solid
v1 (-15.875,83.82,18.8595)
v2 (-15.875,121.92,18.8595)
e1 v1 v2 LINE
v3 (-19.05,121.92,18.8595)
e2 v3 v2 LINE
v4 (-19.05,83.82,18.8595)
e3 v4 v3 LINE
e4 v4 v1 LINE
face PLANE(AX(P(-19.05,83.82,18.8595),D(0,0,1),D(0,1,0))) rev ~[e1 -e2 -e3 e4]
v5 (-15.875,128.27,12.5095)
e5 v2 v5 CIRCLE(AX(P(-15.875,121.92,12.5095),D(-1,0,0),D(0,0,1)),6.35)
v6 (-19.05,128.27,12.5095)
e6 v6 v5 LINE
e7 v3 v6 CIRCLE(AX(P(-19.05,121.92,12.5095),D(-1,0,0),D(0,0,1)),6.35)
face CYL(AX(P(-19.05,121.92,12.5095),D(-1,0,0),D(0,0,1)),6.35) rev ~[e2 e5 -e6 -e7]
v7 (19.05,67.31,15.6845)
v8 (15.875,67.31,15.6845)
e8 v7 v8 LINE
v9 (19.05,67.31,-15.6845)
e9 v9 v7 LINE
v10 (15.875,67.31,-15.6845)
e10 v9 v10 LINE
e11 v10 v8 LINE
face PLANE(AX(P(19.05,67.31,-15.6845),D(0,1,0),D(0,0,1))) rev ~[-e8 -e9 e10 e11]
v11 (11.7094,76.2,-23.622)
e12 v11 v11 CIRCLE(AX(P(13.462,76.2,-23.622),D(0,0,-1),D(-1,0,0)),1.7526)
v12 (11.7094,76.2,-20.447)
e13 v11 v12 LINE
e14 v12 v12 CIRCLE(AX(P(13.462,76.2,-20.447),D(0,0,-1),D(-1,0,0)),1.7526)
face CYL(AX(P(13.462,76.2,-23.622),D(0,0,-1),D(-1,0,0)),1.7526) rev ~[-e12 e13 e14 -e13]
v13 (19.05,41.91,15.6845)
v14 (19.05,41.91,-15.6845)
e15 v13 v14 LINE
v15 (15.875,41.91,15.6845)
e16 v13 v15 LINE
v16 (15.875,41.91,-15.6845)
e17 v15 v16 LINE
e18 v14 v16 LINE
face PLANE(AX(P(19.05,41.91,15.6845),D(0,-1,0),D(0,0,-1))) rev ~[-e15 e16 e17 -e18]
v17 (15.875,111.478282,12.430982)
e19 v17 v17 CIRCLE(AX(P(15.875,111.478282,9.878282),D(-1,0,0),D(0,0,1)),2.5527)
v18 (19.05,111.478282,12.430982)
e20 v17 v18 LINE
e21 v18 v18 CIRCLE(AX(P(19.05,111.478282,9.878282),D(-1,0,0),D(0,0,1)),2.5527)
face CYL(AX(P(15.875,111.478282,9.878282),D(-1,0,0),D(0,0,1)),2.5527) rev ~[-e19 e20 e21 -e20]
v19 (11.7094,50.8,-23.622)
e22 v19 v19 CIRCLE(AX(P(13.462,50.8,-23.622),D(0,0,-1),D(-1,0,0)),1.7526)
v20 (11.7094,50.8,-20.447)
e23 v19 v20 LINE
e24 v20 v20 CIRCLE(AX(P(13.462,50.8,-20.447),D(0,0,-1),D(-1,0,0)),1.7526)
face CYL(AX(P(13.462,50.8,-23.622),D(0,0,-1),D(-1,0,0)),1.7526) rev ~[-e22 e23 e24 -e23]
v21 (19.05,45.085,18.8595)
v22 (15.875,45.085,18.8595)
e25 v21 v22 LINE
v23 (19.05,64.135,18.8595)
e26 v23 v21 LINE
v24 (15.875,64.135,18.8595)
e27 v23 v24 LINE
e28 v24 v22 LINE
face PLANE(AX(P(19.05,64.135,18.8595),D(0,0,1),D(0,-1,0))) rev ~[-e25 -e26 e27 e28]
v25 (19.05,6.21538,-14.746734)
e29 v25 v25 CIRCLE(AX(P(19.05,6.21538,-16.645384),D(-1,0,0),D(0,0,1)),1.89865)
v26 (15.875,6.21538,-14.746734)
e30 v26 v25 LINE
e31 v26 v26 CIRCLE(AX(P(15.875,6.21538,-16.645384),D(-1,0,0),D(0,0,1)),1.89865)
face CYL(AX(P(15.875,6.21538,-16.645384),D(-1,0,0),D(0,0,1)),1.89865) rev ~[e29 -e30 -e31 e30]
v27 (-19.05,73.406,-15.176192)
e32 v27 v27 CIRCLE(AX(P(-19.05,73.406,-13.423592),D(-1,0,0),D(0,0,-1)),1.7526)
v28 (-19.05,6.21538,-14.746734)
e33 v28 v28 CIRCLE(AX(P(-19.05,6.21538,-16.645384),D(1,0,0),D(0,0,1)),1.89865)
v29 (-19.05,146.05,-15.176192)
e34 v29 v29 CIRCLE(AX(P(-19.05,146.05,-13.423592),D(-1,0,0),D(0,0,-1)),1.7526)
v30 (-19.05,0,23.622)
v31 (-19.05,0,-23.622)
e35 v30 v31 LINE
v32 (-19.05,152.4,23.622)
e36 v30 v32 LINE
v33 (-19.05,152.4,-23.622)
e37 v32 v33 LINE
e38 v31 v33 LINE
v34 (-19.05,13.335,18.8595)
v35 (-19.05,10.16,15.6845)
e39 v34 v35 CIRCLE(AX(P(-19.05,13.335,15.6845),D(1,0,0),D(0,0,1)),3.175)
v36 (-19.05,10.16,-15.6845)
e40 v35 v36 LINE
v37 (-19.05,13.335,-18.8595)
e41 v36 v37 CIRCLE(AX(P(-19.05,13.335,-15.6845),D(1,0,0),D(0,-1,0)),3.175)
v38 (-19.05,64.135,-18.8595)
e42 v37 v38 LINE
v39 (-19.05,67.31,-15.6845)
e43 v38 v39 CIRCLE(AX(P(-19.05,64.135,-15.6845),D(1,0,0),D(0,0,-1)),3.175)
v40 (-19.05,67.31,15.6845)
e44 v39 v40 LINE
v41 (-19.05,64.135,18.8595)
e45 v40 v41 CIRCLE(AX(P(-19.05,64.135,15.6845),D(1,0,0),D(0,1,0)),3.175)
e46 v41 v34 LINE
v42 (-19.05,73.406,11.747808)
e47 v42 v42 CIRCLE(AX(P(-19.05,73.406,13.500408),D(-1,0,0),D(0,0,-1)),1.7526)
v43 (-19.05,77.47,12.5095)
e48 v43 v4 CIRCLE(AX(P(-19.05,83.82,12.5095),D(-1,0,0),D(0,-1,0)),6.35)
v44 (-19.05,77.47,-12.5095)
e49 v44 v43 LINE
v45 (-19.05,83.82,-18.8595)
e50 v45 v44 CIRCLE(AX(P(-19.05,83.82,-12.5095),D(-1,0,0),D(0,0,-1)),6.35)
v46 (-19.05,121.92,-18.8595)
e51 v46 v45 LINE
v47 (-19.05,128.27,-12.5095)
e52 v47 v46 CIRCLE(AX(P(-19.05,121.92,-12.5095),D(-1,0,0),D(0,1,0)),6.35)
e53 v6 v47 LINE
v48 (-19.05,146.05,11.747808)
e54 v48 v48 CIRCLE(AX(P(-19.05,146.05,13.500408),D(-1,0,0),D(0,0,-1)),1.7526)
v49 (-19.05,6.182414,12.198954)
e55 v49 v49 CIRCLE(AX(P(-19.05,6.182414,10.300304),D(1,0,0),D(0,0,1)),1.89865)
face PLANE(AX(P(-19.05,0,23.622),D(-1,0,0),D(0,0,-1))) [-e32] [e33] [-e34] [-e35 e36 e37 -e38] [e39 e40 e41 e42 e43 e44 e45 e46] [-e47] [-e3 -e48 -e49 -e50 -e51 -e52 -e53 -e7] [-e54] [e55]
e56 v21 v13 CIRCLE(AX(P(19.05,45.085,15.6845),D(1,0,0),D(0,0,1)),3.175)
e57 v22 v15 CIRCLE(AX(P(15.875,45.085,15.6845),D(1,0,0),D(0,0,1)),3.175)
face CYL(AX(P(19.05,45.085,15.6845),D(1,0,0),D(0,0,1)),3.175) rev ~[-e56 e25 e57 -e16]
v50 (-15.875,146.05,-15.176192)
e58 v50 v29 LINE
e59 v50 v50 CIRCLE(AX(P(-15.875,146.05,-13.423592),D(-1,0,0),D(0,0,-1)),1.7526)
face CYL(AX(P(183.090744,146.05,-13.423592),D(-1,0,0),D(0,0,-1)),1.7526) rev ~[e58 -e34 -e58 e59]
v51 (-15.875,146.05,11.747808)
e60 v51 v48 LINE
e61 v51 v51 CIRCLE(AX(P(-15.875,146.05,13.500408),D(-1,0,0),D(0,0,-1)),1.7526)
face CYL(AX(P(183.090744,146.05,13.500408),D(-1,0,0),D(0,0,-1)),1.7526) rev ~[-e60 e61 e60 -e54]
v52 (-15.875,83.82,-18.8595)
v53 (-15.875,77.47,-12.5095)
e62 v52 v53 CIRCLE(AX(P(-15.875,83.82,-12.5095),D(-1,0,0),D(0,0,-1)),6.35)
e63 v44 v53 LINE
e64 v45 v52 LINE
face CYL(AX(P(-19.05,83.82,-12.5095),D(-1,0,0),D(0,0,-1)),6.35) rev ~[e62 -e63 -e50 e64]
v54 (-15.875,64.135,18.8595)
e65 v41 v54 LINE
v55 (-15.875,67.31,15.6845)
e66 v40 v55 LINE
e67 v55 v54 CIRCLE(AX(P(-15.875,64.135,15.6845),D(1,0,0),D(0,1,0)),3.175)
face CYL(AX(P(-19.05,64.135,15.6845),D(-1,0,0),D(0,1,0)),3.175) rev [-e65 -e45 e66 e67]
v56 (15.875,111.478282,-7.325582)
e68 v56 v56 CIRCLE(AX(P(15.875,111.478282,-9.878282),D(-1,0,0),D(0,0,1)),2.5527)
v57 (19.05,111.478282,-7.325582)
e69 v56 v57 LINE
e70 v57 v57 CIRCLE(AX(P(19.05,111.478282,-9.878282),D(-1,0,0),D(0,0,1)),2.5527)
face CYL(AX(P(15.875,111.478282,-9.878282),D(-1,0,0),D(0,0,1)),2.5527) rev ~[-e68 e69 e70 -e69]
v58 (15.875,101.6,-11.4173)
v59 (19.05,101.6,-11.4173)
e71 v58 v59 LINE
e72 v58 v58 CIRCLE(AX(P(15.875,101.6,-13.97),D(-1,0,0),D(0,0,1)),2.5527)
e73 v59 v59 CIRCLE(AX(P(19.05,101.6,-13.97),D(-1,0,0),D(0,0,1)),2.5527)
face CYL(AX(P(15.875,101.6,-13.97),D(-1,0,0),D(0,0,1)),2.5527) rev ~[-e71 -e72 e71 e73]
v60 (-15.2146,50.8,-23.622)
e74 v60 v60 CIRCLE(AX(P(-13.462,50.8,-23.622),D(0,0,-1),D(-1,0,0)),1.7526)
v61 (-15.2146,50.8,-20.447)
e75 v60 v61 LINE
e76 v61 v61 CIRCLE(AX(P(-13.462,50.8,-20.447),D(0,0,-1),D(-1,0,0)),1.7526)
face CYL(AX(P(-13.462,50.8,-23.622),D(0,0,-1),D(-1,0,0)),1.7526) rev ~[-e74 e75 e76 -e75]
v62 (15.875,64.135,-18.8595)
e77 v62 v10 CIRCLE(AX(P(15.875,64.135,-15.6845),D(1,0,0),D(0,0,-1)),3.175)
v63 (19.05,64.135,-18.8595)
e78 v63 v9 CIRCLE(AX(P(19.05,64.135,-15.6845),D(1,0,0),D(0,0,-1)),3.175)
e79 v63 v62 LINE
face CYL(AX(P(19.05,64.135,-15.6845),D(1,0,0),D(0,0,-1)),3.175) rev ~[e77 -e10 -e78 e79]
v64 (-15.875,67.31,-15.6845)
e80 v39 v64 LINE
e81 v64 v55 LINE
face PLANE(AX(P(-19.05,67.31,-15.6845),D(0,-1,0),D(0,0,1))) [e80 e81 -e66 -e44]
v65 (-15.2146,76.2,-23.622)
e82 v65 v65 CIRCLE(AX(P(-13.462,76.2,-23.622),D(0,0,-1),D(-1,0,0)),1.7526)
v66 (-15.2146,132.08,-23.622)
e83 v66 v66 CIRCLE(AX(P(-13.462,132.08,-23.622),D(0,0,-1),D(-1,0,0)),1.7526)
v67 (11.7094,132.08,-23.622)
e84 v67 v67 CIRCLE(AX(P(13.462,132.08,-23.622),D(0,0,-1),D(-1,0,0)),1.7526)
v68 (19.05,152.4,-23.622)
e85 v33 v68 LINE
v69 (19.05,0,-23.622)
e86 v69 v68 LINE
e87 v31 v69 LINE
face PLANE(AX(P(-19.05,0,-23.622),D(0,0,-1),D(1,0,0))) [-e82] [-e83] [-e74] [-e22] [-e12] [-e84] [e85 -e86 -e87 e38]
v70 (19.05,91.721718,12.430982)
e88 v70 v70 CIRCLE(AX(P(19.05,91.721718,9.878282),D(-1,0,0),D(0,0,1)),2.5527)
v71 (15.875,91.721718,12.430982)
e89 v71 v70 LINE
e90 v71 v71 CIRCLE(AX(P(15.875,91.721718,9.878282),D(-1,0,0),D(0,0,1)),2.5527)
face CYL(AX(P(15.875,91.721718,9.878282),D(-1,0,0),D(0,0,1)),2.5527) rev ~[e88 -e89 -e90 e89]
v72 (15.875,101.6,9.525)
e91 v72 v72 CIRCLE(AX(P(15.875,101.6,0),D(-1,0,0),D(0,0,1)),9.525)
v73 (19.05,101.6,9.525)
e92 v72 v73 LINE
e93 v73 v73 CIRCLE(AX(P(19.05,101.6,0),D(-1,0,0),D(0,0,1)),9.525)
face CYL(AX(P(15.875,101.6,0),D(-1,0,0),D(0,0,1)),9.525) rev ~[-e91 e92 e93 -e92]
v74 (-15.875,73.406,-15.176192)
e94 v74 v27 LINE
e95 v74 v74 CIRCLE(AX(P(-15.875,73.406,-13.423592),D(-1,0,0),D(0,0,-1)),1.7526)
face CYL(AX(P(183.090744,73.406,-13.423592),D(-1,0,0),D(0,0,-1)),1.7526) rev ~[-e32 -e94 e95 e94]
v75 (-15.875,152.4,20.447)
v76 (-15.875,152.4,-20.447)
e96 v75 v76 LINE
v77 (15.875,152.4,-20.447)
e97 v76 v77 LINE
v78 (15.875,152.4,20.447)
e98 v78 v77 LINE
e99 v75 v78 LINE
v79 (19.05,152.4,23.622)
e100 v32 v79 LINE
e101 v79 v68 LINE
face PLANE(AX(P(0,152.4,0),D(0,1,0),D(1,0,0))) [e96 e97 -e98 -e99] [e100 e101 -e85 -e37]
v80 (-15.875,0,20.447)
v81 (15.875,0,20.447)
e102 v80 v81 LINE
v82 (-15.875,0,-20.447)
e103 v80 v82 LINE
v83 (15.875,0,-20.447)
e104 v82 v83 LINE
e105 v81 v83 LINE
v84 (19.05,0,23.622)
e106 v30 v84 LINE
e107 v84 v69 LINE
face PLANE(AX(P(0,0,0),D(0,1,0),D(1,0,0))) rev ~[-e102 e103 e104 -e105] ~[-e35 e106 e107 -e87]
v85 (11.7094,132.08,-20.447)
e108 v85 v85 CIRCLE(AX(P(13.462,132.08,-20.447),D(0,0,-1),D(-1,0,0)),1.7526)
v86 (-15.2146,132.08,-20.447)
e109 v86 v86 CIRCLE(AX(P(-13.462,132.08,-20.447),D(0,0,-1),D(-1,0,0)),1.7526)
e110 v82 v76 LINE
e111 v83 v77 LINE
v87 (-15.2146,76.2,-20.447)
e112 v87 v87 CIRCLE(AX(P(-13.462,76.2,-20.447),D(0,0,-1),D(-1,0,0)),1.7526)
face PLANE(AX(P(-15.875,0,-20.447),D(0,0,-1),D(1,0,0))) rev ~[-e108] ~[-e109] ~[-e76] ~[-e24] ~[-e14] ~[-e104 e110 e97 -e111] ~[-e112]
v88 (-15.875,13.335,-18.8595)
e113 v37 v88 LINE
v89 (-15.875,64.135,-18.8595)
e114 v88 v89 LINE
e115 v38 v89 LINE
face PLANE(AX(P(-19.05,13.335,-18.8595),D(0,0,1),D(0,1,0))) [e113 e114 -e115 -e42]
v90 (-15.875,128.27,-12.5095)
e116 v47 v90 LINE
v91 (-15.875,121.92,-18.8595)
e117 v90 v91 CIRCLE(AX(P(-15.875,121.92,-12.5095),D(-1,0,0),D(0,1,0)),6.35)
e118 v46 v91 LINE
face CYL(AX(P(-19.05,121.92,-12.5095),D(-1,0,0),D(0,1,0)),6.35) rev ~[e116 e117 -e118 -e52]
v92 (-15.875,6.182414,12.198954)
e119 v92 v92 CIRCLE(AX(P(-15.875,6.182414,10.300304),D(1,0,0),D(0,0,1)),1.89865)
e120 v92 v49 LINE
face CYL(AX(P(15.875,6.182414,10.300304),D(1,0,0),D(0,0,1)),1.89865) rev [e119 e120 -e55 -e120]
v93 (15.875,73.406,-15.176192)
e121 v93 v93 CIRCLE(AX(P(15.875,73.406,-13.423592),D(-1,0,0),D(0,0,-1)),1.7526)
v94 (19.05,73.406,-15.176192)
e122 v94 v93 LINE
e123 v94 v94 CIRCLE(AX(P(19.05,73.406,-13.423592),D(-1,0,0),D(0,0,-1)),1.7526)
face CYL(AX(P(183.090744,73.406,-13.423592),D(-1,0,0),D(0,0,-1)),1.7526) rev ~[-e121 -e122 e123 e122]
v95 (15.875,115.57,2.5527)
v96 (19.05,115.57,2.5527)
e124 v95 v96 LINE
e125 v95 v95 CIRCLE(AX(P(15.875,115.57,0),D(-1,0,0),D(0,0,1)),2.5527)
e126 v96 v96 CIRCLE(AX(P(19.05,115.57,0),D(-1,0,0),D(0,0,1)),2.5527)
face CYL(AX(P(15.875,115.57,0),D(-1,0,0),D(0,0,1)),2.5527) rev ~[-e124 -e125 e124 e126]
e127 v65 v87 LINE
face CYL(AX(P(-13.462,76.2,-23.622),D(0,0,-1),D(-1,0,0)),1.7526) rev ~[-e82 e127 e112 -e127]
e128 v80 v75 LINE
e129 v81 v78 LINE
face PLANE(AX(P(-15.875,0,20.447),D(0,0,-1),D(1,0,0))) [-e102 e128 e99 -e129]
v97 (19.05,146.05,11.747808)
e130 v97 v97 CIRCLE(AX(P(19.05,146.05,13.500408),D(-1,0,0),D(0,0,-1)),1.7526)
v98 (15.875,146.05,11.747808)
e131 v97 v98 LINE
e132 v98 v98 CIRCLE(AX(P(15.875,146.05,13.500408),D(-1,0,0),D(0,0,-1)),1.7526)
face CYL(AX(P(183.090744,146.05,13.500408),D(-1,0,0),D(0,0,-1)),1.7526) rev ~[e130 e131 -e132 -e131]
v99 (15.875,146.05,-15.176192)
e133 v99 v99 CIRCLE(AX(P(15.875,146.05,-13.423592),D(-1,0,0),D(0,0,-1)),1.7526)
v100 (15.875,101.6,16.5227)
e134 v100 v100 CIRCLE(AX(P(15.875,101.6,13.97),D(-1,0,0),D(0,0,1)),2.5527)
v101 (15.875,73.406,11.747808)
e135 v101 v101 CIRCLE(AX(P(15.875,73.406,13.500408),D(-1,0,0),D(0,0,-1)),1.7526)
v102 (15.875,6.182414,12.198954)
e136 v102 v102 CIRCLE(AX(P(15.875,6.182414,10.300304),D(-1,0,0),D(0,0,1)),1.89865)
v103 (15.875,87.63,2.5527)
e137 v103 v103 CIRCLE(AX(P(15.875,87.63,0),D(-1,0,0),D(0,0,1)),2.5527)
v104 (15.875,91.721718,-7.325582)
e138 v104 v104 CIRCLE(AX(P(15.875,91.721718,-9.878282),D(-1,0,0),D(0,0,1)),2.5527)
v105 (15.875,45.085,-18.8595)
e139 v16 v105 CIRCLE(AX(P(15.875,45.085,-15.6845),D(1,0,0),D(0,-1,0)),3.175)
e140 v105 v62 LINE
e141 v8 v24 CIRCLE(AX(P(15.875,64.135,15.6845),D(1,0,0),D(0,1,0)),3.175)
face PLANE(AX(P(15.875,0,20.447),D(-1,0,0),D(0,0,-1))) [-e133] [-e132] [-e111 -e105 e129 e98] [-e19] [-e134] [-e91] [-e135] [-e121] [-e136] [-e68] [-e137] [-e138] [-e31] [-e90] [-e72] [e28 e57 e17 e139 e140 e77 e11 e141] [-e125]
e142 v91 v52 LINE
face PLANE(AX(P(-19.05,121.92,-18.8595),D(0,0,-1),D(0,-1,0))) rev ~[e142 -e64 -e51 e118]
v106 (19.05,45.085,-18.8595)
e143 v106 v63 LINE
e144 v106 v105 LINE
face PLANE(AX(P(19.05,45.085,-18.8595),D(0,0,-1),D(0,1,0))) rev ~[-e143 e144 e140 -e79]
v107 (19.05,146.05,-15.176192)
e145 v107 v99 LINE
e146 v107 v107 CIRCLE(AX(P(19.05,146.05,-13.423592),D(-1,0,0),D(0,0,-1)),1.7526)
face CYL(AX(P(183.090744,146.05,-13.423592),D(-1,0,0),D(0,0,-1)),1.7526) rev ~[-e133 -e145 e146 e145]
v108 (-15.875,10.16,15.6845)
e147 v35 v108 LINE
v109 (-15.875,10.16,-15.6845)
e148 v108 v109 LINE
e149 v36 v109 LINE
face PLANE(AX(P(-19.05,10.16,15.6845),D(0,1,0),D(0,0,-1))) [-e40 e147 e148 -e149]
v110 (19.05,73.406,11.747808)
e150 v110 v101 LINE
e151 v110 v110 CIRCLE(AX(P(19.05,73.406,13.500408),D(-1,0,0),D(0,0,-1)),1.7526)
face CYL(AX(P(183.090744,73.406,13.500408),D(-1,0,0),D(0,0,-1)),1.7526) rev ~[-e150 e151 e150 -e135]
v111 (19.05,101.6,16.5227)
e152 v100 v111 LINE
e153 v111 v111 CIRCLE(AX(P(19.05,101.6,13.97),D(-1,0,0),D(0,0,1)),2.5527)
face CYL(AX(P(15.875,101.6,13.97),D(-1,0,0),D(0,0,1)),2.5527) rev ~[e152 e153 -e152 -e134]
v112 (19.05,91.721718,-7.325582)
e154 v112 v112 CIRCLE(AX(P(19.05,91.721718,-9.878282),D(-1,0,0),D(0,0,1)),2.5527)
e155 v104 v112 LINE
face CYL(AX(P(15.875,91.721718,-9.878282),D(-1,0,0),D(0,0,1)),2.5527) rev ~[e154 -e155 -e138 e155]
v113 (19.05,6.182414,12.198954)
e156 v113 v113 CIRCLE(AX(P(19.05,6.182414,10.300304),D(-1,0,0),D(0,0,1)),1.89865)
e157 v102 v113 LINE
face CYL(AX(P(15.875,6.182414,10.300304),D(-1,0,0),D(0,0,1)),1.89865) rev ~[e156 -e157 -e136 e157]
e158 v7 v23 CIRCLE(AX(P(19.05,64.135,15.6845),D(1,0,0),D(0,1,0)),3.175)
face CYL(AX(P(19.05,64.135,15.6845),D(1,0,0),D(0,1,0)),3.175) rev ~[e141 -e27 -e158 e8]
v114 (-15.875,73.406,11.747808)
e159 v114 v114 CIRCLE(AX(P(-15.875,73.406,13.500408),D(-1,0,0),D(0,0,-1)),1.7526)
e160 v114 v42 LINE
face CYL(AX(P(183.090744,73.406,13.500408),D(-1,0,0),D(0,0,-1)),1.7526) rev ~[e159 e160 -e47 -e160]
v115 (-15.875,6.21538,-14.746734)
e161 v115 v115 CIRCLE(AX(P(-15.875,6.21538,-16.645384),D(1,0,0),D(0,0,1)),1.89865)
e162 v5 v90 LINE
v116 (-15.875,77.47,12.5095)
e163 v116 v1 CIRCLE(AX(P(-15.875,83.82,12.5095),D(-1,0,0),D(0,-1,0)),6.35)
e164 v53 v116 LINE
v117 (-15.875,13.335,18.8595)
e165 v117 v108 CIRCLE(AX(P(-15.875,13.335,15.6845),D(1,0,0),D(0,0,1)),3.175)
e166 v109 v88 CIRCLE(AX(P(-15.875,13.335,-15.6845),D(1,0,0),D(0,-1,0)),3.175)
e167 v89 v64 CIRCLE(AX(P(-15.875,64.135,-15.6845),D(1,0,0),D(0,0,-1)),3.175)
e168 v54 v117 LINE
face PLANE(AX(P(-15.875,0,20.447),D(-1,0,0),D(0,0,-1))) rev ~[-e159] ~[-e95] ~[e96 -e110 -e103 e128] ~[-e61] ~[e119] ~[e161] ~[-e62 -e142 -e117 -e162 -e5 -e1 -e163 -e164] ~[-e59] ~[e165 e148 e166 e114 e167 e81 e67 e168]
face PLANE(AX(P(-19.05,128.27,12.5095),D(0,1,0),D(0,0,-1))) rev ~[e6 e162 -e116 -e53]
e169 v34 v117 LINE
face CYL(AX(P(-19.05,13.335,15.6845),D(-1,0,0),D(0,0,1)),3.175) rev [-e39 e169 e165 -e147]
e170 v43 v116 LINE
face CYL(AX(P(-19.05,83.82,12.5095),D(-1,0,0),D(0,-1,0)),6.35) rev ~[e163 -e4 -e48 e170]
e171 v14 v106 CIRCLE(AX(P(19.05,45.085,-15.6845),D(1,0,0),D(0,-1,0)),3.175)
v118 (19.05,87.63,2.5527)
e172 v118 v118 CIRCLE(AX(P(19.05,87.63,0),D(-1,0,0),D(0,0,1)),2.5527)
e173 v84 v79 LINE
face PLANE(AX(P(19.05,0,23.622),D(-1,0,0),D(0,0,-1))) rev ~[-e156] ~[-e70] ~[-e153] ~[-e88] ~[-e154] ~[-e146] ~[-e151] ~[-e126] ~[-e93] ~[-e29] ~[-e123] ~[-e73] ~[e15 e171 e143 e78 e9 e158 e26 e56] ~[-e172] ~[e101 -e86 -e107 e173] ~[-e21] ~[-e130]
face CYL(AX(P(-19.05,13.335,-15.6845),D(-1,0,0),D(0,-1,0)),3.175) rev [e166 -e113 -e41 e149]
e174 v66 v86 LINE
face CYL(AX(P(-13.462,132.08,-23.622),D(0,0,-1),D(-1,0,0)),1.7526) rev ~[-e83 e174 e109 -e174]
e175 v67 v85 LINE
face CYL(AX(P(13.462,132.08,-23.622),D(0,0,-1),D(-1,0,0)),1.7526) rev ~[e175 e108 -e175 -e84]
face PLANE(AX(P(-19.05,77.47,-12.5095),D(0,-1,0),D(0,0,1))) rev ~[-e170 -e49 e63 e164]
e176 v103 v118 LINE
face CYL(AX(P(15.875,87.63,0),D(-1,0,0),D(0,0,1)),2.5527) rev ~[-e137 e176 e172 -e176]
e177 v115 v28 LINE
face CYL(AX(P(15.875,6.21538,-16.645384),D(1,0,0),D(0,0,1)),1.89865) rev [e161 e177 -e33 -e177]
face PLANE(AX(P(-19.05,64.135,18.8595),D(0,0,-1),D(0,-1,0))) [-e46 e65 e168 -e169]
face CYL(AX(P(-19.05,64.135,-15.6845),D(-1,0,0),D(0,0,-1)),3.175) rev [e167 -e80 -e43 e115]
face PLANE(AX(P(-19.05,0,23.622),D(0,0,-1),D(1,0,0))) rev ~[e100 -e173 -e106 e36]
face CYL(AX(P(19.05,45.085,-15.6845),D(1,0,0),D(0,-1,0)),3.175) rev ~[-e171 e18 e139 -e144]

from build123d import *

# Parameters (mm, degrees)
SKETCH1_W               = 38.1
SKETCH1_H               = 47.244
SKETCH1_W_2             = 31.75
SKETCH1_H_2             = 40.894
BOSS_EXTRUDE1_DEPTH     = 152.4
SKETCH2_R               = 1.89865
CUT_EXTRUDE1_DEPTH      = 35.925
CUT_EXTRUDE1_DEPTH_BACK = 4.175
CUT_EXTRUDE3_DEPTH      = 3.175
CUT_EXTRUDE4_DEPTH      = 3.175
SKETCH6_R               = 9.525
SKETCH6_R_2             = 2.5527
CUT_EXTRUDE5_DEPTH      = 3.175
CUT_EXTRUDE6_DEPTH      = 3.175
F_6_32_TAPPED_HOLE1_D   = 3.5052
CUT_EXTRUDE10_REACH     = 49.244
SKETCH15_R              = 1.7526


with BuildPart() as part:
    # Sketch1 → Boss-Extrude1 (new body)
    with BuildSketch(Plane(origin=(0, 0, 0), x_dir=(1, 0, 0), z_dir=(0, 1, 0))):
        Rectangle(SKETCH1_W, SKETCH1_H)
        Rectangle(SKETCH1_W_2, SKETCH1_H_2, mode=Mode.SUBTRACT)
    extrude(amount=BOSS_EXTRUDE1_DEPTH)

    # Sketch2 → Cut-Extrude1 (cut, two sides)
    with BuildSketch(Plane.ZY.offset(-15.875)) as cut_extrude1_sk:
        with Locations((-16.645384182, 6.21538)):
            Circle(SKETCH2_R)
        with Locations((10.30030417, 6.18241423)):
            Circle(SKETCH2_R)
    extrude(amount=CUT_EXTRUDE1_DEPTH, mode=Mode.SUBTRACT)
    extrude(cut_extrude1_sk.sketch, amount=-CUT_EXTRUDE1_DEPTH_BACK, mode=Mode.SUBTRACT)

    # Sketch4 → Cut-Extrude3 (cut)
    with BuildSketch(Plane.ZY.offset(19.05)):
        with BuildLine():
            Line((15.6845, 10.16), (-15.6845, 10.16))
            ThreePointArc((-15.6845, 10.16), (-17.92956403, 11.08993597), (-18.8595, 13.335))
            Line((-18.8595, 13.335), (-18.8595, 64.135))
            ThreePointArc((-18.8595, 64.135), (-17.92956403, 66.38006403), (-15.6845, 67.31))
            Line((-15.6845, 67.31), (15.6845, 67.31))
            ThreePointArc((15.6845, 67.31), (17.92956403, 66.38006403), (18.8595, 64.135))
            Line((18.8595, 64.135), (18.8595, 13.335))
            ThreePointArc((18.8595, 13.335), (17.92956403, 11.08993597), (15.6845, 10.16))
        make_face()
    extrude(amount=-CUT_EXTRUDE3_DEPTH, mode=Mode.SUBTRACT)

    # Sketch5 → Cut-Extrude4 (cut)
    with BuildSketch(Plane(origin=(19.05, 0, 0), x_dir=(0, 0, -1), z_dir=(1, 0, 0))):
        with BuildLine():
            Line((15.6845, 67.31), (-15.6845, 67.31))
            ThreePointArc((-15.6845, 67.31), (-17.92956403, 66.38006403), (-18.8595, 64.135))
            Line((-18.8595, 64.135), (-18.8595, 45.085))
            ThreePointArc((-18.8595, 45.085), (-17.92956403, 42.83993597), (-15.6845, 41.91))
            Line((-15.6845, 41.91), (15.6845, 41.91))
            ThreePointArc((15.6845, 41.91), (17.92956403, 42.83993597), (18.8595, 45.085))
            Line((18.8595, 45.085), (18.8595, 64.135))
            ThreePointArc((18.8595, 64.135), (17.92956403, 66.38006403), (15.6845, 67.31))
        make_face()
    extrude(amount=-CUT_EXTRUDE4_DEPTH, mode=Mode.SUBTRACT)

    # Sketch6 → Cut-Extrude5 (cut)
    with BuildSketch(Plane.ZY.offset(-15.875)):
        with Locations((0, 101.6)):
            Circle(SKETCH6_R)
        with Locations((0, 87.63)):
            Circle(SKETCH6_R_2)
        with Locations((-9.878281733, 91.721718267)):
            Circle(SKETCH6_R_2)
        with Locations((-13.97, 101.6)):
            Circle(SKETCH6_R_2)
        with Locations((-9.878281733, 111.478281733)):
            Circle(SKETCH6_R_2)
        with Locations((0, 115.57)):
            Circle(SKETCH6_R_2)
        with Locations((9.878281733, 111.478281733)):
            Circle(SKETCH6_R_2)
        with Locations((13.97, 101.6)):
            Circle(SKETCH6_R_2)
        with Locations((9.878281733, 91.721718267)):
            Circle(SKETCH6_R_2)
    extrude(amount=-CUT_EXTRUDE5_DEPTH, mode=Mode.SUBTRACT)

    # Sketch7 → Cut-Extrude6 (cut)
    with BuildSketch(Plane.ZY.offset(19.05)):
        with BuildLine():
            Line((-12.5095, 77.47), (12.5095, 77.47))
            ThreePointArc((12.5095, 77.47), (16.999628061, 79.329871939), (18.8595, 83.82))
            Line((18.8595, 83.82), (18.8595, 121.92))
            ThreePointArc((18.8595, 121.92), (16.999628061, 126.410128061), (12.5095, 128.27))
            Line((12.5095, 128.27), (-12.5095, 128.27))
            ThreePointArc((-12.5095, 128.27), (-16.999628061, 126.410128061), (-18.8595, 121.92))
            Line((-18.8595, 121.92), (-18.8595, 83.82))
            ThreePointArc((-18.8595, 83.82), (-16.999628061, 79.329871939), (-12.5095, 77.47))
        make_face()
    extrude(amount=-CUT_EXTRUDE6_DEPTH, mode=Mode.SUBTRACT)

    # #6-32 Tapped Hole1 (through all)
    with Locations(Plane(origin=(19.05, 73.406, -13.423592181), x_dir=(0, 0, 1), z_dir=(1, 0, 0))):
        with Locations((0, 0), (26.924, 0), (26.924, -72.644), (0, -72.644)):
            Hole(F_6_32_TAPPED_HOLE1_D / 2)

    # Sketch15 → Cut-Extrude10 (cut, up to next)
    with BuildSketch(Plane(origin=(0, 0, -23.622), x_dir=(-1, 0, 0), z_dir=(0, 0, -1)), mode=Mode.PRIVATE) as cut_extrude10_sk1:
        with Locations((-13.462, 50.8)):
            Circle(SKETCH15_R)
    cut_extrude10_tool1 = extrude(cut_extrude10_sk1.sketch, amount=-CUT_EXTRUDE10_REACH, mode=Mode.PRIVATE) & part.part
    add(cut_extrude10_tool1.solids().sort_by_distance((13.462, 50.8, -23.622))[0], mode=Mode.SUBTRACT)
    # Sketch15 → Cut-Extrude10 (cut, up to next)
    with BuildSketch(Plane(origin=(0, 0, -23.622), x_dir=(-1, 0, 0), z_dir=(0, 0, -1)), mode=Mode.PRIVATE) as cut_extrude10_sk2:
        with Locations((13.462, 50.8)):
            Circle(SKETCH15_R)
    cut_extrude10_tool2 = extrude(cut_extrude10_sk2.sketch, amount=-CUT_EXTRUDE10_REACH, mode=Mode.PRIVATE) & part.part
    add(cut_extrude10_tool2.solids().sort_by_distance((-13.462, 50.8, -23.622))[0], mode=Mode.SUBTRACT)
    # Sketch15 → Cut-Extrude10 (cut, up to next)
    with BuildSketch(Plane(origin=(0, 0, -23.622), x_dir=(-1, 0, 0), z_dir=(0, 0, -1)), mode=Mode.PRIVATE) as cut_extrude10_sk3:
        with Locations((-13.462, 76.2)):
            Circle(SKETCH15_R)
    cut_extrude10_tool3 = extrude(cut_extrude10_sk3.sketch, amount=-CUT_EXTRUDE10_REACH, mode=Mode.PRIVATE) & part.part
    add(cut_extrude10_tool3.solids().sort_by_distance((13.462, 76.2, -23.622))[0], mode=Mode.SUBTRACT)
    # Sketch15 → Cut-Extrude10 (cut, up to next)
    with BuildSketch(Plane(origin=(0, 0, -23.622), x_dir=(-1, 0, 0), z_dir=(0, 0, -1)), mode=Mode.PRIVATE) as cut_extrude10_sk4:
        with Locations((13.462, 76.2)):
            Circle(SKETCH15_R)
    cut_extrude10_tool4 = extrude(cut_extrude10_sk4.sketch, amount=-CUT_EXTRUDE10_REACH, mode=Mode.PRIVATE) & part.part
    add(cut_extrude10_tool4.solids().sort_by_distance((-13.462, 76.2, -23.622))[0], mode=Mode.SUBTRACT)
    # Sketch15 → Cut-Extrude10 (cut, up to next)
    with BuildSketch(Plane(origin=(0, 0, -23.622), x_dir=(-1, 0, 0), z_dir=(0, 0, -1)), mode=Mode.PRIVATE) as cut_extrude10_sk5:
        with Locations((-13.462, 132.08)):
            Circle(SKETCH15_R)
    cut_extrude10_tool5 = extrude(cut_extrude10_sk5.sketch, amount=-CUT_EXTRUDE10_REACH, mode=Mode.PRIVATE) & part.part
    add(cut_extrude10_tool5.solids().sort_by_distance((13.462, 132.08, -23.622))[0], mode=Mode.SUBTRACT)
    # Sketch15 → Cut-Extrude10 (cut, up to next)
    with BuildSketch(Plane(origin=(0, 0, -23.622), x_dir=(-1, 0, 0), z_dir=(0, 0, -1)), mode=Mode.PRIVATE) as cut_extrude10_sk6:
        with Locations((13.462, 132.08)):
            Circle(SKETCH15_R)
    cut_extrude10_tool6 = extrude(cut_extrude10_sk6.sketch, amount=-CUT_EXTRUDE10_REACH, mode=Mode.PRIVATE) & part.part
    add(cut_extrude10_tool6.solids().sort_by_distance((-13.462, 132.08, -23.622))[0], mode=Mode.SUBTRACT)


solid = part.part
